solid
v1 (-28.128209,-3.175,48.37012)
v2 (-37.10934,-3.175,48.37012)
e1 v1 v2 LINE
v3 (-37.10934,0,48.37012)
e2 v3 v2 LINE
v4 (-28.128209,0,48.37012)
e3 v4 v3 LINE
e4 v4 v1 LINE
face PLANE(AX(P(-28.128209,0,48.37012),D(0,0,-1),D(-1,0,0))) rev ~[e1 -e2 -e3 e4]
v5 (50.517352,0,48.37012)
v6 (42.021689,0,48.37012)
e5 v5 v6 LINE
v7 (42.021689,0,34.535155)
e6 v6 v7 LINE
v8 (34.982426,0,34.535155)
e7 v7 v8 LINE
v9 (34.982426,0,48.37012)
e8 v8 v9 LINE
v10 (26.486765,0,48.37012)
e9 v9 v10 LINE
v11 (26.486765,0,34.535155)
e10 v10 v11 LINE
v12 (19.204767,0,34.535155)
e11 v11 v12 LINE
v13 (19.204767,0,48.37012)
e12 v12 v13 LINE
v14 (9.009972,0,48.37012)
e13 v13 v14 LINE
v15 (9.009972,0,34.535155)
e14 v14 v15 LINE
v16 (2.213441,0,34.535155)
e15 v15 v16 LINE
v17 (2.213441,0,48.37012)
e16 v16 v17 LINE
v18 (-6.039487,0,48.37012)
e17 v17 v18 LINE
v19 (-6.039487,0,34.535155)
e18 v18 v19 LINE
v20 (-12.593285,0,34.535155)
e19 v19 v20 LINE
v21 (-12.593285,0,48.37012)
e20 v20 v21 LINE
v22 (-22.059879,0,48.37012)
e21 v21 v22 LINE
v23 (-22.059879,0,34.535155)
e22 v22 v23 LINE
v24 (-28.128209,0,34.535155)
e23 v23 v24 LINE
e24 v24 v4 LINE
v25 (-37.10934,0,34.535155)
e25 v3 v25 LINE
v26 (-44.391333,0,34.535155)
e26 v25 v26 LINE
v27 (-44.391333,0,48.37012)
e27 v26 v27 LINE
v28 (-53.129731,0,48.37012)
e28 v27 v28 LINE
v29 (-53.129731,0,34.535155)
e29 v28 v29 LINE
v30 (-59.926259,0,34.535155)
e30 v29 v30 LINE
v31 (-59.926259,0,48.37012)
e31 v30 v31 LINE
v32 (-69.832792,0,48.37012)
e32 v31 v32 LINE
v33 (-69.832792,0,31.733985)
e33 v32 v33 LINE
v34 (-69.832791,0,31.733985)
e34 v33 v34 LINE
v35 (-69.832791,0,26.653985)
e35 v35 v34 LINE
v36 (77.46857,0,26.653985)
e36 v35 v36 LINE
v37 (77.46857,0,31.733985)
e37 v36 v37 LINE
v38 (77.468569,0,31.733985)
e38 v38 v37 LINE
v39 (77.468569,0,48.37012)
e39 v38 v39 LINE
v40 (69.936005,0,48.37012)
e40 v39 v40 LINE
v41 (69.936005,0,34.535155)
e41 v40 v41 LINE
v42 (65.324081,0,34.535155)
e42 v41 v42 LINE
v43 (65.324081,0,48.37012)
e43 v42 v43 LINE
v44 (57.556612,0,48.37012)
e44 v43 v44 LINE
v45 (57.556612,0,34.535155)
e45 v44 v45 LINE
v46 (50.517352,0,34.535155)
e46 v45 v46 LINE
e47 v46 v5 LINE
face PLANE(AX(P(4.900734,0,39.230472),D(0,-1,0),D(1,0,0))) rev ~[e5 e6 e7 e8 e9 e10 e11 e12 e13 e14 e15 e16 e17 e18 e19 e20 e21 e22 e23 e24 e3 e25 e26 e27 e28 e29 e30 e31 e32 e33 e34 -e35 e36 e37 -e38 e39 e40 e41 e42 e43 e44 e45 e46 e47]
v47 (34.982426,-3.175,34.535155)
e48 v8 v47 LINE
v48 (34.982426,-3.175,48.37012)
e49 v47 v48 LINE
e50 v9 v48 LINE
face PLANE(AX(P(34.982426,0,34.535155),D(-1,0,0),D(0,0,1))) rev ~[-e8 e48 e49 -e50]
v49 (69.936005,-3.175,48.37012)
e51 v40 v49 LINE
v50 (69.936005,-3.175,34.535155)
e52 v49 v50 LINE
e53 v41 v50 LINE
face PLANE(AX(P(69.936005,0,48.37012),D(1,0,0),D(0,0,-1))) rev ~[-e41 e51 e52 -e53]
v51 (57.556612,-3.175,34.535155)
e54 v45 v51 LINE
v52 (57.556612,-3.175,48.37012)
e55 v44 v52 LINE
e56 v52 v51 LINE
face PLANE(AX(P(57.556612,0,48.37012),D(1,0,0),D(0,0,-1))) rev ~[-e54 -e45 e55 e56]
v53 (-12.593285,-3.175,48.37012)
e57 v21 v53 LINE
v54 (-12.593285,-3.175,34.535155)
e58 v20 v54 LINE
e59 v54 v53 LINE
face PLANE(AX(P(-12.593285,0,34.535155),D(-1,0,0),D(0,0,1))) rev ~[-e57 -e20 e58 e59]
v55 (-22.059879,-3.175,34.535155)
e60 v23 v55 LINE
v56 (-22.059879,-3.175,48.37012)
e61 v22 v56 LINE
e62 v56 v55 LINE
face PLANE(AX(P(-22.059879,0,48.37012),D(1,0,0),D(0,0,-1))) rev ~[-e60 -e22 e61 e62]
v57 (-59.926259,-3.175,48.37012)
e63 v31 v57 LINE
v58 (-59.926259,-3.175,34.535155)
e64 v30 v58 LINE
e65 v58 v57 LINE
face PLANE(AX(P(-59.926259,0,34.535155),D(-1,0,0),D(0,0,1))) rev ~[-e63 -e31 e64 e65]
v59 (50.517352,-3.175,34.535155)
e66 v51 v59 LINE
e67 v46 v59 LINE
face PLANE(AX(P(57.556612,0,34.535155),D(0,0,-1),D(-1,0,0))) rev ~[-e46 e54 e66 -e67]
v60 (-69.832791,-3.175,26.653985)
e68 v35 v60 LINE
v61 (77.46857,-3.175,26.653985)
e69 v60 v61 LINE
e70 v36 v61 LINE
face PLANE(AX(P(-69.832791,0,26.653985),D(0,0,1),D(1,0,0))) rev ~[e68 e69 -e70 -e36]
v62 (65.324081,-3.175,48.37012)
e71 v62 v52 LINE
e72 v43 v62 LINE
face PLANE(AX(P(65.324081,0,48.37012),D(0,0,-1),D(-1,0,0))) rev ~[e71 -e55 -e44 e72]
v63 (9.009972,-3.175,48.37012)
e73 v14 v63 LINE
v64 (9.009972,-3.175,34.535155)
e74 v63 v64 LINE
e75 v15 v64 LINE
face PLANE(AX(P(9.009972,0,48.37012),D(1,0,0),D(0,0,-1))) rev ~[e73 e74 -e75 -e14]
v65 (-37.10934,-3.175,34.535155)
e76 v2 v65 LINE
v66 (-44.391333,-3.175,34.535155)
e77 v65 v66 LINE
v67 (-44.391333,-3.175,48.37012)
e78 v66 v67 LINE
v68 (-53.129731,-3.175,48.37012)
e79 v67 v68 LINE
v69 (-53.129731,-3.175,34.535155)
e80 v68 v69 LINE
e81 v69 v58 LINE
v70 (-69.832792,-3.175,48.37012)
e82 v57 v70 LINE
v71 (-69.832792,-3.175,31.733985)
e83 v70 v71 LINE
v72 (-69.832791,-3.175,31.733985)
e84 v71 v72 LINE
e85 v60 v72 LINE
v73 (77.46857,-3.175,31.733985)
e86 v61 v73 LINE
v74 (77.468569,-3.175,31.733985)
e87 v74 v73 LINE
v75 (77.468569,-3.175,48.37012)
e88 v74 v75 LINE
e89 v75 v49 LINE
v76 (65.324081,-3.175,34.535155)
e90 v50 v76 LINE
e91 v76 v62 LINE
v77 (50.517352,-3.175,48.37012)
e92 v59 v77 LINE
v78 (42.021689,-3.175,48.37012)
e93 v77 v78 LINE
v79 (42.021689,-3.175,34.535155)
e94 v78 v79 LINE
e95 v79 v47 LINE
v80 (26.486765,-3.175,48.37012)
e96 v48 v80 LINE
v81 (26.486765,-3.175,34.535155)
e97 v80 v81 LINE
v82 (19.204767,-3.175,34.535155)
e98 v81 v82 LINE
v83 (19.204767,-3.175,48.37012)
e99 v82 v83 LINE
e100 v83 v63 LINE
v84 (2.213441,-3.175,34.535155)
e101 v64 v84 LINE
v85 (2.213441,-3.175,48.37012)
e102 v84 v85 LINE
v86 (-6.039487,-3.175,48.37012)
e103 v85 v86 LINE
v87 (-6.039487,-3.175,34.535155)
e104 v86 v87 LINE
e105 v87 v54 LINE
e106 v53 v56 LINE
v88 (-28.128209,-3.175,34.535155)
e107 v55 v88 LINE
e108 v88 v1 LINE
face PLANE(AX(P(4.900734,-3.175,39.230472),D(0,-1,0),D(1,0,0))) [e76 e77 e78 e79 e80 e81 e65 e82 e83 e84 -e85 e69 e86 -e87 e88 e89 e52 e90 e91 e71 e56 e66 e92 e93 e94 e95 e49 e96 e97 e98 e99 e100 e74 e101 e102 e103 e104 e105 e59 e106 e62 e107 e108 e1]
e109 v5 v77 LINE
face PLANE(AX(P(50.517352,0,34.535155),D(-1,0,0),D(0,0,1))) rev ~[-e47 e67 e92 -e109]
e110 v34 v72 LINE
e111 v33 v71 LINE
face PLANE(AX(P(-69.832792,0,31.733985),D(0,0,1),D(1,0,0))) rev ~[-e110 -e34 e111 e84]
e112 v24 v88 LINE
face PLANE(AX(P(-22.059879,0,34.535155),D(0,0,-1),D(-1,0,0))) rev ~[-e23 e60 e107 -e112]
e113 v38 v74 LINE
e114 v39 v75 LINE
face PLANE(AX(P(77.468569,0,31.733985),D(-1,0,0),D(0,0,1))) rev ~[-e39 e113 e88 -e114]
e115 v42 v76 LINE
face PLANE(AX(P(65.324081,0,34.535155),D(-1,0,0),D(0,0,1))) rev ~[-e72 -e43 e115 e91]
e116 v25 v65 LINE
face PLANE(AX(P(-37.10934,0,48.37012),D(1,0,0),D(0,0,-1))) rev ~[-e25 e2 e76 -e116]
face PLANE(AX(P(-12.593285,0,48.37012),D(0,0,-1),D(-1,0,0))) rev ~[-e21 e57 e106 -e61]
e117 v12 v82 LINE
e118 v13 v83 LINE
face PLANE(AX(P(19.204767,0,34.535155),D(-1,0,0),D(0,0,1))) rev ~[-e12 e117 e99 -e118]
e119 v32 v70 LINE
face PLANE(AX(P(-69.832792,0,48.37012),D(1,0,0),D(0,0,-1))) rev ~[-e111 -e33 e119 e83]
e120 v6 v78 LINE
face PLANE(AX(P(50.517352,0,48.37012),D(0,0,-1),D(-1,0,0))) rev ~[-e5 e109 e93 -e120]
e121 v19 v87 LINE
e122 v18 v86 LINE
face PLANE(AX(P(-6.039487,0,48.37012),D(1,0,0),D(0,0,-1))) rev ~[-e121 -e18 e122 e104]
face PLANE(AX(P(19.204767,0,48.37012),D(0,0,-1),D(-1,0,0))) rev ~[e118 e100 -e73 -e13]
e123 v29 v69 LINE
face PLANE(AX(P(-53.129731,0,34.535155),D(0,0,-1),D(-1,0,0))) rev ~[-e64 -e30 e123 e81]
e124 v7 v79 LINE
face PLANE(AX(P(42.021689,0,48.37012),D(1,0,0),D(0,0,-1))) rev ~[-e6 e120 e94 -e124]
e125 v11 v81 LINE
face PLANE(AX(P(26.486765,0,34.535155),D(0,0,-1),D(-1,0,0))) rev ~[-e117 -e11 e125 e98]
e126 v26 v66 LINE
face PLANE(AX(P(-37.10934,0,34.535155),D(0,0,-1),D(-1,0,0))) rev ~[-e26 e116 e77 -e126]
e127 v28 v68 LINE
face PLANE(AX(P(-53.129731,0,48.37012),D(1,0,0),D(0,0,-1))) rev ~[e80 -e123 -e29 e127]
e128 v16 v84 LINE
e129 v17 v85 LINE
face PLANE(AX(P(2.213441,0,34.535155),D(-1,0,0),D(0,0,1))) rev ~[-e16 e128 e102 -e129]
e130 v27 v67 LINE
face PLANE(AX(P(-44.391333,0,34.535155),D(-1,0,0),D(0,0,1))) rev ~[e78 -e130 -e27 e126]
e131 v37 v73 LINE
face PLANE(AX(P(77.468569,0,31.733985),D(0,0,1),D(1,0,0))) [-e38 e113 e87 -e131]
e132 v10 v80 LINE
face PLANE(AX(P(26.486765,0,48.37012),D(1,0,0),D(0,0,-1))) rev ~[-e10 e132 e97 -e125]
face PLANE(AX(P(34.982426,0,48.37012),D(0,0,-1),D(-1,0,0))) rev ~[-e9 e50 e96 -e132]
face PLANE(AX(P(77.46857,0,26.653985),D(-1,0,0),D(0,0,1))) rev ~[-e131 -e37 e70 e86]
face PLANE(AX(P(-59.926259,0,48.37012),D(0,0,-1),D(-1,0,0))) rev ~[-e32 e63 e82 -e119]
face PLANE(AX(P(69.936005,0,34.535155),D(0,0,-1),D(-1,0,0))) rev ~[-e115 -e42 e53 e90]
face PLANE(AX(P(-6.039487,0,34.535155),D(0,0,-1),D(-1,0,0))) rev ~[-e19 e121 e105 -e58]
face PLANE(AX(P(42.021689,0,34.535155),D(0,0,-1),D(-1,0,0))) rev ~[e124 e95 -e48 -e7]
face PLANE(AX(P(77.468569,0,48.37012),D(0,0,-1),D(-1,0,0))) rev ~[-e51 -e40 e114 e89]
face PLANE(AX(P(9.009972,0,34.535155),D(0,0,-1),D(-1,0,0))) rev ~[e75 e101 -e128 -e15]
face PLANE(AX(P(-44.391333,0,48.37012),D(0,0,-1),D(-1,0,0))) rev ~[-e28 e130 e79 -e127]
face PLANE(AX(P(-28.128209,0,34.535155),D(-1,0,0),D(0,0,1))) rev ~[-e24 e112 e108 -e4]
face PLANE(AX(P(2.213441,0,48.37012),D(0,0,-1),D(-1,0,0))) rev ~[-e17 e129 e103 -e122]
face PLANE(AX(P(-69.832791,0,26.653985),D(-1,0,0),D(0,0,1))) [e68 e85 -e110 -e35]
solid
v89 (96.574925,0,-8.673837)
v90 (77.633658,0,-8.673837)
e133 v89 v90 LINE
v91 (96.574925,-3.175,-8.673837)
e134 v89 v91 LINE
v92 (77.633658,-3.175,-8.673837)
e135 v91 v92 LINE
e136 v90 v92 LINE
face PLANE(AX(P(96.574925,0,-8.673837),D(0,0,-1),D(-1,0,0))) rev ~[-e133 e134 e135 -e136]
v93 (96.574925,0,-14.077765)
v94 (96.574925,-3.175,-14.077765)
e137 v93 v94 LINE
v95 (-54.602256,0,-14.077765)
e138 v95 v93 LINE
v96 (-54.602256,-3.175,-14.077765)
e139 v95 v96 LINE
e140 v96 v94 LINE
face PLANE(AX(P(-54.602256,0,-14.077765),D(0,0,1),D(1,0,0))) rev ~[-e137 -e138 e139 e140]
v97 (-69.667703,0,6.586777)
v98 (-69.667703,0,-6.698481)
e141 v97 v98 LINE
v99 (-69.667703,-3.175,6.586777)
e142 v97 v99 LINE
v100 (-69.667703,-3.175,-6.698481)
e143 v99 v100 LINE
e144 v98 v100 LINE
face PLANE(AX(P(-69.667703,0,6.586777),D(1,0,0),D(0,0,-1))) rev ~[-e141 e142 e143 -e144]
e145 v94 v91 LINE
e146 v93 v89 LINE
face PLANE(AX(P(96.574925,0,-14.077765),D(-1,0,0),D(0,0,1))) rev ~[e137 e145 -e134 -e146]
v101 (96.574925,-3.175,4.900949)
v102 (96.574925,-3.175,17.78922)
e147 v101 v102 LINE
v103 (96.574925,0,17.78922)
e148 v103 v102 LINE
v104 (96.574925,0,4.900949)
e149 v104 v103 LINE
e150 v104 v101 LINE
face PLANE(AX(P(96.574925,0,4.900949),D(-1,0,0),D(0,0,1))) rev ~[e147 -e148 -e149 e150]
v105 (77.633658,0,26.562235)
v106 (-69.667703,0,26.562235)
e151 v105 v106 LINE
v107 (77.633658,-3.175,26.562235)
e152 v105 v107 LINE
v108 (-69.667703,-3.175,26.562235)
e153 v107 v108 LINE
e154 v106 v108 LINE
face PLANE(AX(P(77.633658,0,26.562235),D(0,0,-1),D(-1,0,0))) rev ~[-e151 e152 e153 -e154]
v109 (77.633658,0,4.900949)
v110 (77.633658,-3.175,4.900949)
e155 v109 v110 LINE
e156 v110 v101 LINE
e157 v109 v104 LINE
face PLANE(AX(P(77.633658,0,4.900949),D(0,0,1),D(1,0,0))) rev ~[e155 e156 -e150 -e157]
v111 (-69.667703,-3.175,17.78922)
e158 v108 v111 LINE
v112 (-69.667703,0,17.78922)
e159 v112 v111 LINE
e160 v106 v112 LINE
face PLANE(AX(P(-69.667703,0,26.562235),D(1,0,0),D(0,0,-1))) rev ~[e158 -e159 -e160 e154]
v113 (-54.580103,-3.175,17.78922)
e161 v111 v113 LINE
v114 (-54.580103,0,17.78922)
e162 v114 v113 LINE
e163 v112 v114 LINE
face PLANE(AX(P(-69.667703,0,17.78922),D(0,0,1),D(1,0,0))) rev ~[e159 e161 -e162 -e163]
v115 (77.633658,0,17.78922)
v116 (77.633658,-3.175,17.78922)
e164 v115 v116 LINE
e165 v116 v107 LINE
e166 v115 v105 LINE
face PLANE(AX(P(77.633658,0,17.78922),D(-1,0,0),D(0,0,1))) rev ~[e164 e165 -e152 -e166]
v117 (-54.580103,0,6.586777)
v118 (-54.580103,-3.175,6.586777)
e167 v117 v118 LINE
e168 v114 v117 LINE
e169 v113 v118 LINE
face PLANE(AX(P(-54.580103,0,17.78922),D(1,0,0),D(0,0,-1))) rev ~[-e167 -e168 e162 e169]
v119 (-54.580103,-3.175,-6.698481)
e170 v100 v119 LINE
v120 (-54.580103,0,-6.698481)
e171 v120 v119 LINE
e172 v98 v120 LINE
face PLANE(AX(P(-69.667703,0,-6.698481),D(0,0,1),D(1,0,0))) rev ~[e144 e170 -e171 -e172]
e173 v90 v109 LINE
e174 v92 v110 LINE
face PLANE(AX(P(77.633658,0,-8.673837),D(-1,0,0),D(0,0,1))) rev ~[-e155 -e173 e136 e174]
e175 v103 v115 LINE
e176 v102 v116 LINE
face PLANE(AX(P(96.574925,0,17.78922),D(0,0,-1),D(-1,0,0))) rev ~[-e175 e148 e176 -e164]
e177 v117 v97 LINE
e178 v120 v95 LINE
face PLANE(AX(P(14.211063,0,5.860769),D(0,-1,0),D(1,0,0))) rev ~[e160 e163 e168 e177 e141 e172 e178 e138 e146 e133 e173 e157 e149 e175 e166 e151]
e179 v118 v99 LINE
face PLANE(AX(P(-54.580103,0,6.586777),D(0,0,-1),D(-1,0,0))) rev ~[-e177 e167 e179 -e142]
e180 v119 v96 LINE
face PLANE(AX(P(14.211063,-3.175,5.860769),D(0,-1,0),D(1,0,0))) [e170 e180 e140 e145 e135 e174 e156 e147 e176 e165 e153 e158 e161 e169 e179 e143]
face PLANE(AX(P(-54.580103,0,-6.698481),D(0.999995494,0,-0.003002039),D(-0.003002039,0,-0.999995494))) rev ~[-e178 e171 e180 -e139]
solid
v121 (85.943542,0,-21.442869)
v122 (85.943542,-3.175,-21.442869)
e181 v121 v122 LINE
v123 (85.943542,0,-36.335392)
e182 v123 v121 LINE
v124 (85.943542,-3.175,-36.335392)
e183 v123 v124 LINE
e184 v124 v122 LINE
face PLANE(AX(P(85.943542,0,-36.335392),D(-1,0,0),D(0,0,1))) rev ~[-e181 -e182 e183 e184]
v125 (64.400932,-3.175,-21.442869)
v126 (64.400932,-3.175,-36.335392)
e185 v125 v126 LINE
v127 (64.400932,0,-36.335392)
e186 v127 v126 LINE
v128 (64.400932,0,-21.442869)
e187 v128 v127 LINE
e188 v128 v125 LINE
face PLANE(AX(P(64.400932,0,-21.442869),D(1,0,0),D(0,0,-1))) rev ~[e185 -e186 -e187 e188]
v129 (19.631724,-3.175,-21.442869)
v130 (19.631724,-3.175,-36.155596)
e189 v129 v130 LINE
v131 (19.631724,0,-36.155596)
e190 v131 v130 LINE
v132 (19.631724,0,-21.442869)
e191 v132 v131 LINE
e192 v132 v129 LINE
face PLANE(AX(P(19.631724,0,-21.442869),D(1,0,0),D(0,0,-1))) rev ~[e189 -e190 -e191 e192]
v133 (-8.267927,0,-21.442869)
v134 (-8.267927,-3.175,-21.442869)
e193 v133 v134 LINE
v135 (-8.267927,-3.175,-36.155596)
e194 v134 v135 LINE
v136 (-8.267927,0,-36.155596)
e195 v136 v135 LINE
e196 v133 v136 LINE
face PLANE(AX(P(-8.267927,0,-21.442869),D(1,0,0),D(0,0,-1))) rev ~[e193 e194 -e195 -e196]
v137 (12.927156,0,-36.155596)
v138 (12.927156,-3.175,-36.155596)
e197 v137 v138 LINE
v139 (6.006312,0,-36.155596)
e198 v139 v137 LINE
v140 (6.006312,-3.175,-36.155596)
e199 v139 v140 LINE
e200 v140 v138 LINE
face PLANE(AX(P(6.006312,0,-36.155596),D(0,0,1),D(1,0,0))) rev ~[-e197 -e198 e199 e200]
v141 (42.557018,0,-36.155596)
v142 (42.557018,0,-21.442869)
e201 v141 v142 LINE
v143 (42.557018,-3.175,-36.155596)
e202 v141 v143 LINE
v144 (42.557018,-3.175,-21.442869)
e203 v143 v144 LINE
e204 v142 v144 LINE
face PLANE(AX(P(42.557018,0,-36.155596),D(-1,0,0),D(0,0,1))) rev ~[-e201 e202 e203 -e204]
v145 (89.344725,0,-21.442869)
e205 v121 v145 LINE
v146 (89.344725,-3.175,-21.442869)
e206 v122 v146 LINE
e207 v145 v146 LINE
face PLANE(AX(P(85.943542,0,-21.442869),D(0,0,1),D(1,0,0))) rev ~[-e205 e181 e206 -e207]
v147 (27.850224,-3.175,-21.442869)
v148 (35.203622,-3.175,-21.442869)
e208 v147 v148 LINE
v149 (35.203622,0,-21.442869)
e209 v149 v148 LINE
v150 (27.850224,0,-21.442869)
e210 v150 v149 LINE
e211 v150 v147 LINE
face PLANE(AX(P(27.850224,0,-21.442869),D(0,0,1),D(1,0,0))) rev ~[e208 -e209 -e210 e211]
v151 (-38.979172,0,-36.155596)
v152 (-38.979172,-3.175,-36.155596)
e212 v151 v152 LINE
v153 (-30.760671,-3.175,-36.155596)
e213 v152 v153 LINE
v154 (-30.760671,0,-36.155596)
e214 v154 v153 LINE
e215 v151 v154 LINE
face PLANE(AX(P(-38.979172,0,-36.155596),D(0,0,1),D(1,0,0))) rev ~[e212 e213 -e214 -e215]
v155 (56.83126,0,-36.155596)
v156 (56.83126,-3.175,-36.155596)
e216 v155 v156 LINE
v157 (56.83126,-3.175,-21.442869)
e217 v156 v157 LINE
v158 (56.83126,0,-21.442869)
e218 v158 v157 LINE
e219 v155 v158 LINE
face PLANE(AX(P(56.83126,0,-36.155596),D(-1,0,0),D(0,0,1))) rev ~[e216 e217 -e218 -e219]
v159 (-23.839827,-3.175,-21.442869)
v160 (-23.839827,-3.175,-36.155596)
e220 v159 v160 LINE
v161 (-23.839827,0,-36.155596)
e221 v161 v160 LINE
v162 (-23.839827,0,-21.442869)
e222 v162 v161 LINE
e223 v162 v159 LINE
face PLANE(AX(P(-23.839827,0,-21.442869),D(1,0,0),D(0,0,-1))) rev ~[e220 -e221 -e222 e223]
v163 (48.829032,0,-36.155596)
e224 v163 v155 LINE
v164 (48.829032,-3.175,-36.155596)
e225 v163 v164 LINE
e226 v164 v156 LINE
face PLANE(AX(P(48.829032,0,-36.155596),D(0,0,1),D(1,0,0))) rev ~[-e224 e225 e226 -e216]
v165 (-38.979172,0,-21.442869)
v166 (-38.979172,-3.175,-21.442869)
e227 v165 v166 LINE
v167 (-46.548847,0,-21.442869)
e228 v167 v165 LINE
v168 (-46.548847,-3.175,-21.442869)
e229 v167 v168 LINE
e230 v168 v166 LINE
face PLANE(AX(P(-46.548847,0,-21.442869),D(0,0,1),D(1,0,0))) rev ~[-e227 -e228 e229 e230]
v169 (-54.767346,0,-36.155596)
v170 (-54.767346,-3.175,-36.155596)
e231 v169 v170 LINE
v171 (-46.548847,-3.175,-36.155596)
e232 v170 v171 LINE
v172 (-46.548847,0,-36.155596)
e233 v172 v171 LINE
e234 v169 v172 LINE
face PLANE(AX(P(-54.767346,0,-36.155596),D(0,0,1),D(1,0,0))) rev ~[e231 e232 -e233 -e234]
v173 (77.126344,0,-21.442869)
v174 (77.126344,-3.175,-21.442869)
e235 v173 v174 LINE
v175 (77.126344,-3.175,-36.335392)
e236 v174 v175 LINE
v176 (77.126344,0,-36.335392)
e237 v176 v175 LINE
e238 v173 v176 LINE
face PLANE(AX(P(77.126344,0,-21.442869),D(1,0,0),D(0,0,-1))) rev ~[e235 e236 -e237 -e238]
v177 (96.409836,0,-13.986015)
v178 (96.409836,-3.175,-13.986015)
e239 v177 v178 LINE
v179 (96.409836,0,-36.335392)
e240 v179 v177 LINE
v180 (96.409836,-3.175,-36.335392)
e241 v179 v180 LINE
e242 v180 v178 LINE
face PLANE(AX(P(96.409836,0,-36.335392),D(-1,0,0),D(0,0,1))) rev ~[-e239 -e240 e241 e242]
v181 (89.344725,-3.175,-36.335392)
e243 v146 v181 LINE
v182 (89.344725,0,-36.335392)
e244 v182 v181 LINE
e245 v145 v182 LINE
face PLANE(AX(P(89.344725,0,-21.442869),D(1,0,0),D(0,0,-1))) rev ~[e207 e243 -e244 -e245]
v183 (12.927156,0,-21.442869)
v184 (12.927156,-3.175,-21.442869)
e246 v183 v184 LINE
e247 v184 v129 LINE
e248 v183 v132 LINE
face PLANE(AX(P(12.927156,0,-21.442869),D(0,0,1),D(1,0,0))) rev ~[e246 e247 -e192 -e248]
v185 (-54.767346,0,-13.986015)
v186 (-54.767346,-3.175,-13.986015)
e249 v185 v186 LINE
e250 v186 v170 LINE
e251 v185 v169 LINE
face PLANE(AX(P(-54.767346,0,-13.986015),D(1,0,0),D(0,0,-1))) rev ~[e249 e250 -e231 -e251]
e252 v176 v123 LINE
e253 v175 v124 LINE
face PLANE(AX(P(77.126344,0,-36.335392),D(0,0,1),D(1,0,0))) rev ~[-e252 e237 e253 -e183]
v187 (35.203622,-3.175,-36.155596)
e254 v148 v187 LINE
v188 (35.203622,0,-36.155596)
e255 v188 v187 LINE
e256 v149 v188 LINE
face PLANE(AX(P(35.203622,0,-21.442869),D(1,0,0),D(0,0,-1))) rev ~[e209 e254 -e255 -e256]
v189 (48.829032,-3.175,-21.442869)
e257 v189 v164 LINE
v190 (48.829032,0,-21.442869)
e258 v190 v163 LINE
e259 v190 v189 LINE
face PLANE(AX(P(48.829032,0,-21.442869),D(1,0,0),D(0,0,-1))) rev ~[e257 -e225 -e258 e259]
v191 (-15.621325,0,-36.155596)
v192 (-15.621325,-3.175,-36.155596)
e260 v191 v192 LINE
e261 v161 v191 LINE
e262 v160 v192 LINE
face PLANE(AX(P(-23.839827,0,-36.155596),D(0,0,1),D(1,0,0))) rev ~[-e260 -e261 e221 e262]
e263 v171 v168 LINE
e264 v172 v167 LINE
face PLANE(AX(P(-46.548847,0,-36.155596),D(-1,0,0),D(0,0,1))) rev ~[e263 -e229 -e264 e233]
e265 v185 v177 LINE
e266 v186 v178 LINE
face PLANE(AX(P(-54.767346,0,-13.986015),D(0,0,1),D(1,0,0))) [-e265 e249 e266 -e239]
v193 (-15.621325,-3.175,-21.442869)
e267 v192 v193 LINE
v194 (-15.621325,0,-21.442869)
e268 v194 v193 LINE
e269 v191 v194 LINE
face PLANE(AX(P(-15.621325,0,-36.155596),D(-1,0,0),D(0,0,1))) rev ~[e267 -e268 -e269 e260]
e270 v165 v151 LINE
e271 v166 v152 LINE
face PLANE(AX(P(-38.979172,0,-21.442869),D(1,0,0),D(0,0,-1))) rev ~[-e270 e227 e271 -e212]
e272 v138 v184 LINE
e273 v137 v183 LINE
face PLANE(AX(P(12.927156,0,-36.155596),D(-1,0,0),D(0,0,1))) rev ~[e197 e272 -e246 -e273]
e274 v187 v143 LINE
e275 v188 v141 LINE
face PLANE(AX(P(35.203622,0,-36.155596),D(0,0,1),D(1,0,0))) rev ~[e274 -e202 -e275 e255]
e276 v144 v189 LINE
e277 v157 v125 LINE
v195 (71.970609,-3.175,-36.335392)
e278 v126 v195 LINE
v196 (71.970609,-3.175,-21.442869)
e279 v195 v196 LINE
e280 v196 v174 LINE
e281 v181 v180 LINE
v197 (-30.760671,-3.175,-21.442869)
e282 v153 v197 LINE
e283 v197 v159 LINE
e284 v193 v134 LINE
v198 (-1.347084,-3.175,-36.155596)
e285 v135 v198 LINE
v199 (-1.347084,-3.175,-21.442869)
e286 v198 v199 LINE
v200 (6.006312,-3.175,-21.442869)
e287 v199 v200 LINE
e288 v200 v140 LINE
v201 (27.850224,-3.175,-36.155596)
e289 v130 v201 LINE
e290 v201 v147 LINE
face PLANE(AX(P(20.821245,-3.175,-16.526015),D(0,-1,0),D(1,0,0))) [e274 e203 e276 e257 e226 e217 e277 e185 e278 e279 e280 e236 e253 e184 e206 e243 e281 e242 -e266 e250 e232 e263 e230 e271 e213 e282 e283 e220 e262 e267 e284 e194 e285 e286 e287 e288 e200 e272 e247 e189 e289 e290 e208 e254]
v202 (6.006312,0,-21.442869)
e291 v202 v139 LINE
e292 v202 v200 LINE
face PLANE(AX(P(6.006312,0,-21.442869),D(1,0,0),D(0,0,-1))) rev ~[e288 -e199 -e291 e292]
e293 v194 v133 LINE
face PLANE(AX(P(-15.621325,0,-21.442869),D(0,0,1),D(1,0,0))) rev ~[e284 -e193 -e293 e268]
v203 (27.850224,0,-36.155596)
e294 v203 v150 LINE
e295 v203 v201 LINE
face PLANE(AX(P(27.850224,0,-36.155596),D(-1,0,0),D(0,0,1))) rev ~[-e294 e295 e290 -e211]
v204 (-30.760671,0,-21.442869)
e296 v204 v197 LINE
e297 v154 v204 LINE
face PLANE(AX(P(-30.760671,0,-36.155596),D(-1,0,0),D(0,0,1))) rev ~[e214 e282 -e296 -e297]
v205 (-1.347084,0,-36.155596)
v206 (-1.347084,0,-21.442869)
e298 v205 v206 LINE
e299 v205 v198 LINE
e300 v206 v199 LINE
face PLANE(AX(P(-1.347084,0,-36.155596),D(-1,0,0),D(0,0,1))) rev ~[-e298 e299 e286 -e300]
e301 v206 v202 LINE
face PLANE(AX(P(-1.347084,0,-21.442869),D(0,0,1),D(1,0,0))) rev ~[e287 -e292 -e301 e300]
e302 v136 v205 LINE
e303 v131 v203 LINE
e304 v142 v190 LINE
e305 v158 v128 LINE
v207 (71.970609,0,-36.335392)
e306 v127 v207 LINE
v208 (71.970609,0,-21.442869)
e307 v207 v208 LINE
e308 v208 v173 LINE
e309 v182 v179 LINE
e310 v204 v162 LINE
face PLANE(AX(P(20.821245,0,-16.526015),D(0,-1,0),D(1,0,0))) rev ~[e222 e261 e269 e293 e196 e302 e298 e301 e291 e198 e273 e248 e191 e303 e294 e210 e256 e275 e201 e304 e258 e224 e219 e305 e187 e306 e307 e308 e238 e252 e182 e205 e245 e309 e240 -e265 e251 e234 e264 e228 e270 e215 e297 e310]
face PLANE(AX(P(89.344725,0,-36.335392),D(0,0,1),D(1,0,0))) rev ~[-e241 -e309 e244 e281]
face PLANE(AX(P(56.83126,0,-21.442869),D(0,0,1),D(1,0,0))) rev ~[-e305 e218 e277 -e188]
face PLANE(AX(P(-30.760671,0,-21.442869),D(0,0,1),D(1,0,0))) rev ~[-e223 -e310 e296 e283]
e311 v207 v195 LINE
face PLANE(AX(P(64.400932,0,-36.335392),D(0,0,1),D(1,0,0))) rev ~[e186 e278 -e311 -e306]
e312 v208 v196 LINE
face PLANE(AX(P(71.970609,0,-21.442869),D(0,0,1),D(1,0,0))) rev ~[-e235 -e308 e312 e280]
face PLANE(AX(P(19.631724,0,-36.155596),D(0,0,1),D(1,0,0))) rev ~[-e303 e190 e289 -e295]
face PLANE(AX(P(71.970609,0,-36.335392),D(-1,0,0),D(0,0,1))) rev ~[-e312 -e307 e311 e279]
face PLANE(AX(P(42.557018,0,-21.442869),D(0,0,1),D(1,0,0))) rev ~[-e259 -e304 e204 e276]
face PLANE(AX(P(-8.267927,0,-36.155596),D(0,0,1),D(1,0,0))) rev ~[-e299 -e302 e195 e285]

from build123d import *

# Parameters (mm, degrees)
F0_W     = 147.301361
F0_H     = 5.08
F0_W_2   = 151.177182
F1_DEPTH = 3.175
F3_DEPTH = 3.175


with BuildPart() as f1:
    # F0 (on Front) → F1 (new body)
    with BuildSketch(Plane.XZ):
        Polygon((-69.832792, 48.37012), (-69.832792, 31.733985), (77.468569, 31.733985), (77.468569, 48.37012), (69.936005, 48.37012), (69.936005, 34.535155), (65.324081, 34.535155), (65.324081, 48.37012), (57.556612, 48.37012), (57.556612, 34.535155), (50.517352, 34.535155), (50.517352, 48.37012), (42.021689, 48.37012), (42.021689, 34.535155), (34.982426, 34.535155), (34.982426, 48.37012), (26.486765, 48.37012), (26.486765, 34.535155), (19.204767, 34.535155), (19.204767, 48.37012), (9.009972, 48.37012), (9.009972, 34.535155), (2.213441, 34.535155), (2.213441, 48.37012), (-6.039487, 48.37012), (-6.039487, 34.535155), (-12.593285, 34.535155), (-12.593285, 48.37012), (-22.059879, 48.37012), (-22.059879, 34.535155), (-28.128209, 34.535155), (-28.128209, 48.37012), (-37.10934, 48.37012), (-37.10934, 34.535155), (-44.391333, 34.535155), (-44.391333, 48.37012), (-53.129731, 48.37012), (-53.129731, 34.535155), (-59.926259, 34.535155), (-59.926259, 48.37012), align=None)
        with Locations((3.817889, 29.193985)):
            Rectangle(F0_W, F0_H)
        with Locations((20.821245, -16.526015)):
            Rectangle(F0_W_2, F0_H)
        Polygon((96.409836, -19.066015), (-54.767346, -19.066015), (-54.767346, -36.155596), (-46.548847, -36.155596), (-46.548847, -21.442869), (-38.979172, -21.442869), (-38.979172, -36.155596), (-30.760671, -36.155596), (-30.760671, -21.442869), (-23.839827, -21.442869), (-23.839827, -36.155596), (-15.621325, -36.155596), (-15.621325, -21.442869), (-8.267927, -21.442869), (-8.267927, -36.155596), (-1.347084, -36.155596), (-1.347084, -21.442869), (6.006312, -21.442869), (6.006312, -36.155596), (12.927156, -36.155596), (12.927156, -21.442869), (19.631724, -21.442869), (19.631724, -36.155596), (27.850224, -36.155596), (27.850224, -21.442869), (35.203622, -21.442869), (35.203622, -36.155596), (42.557018, -36.155596), (42.557018, -21.442869), (48.829032, -21.442869), (48.829032, -36.155596), (56.83126, -36.155596), (56.83126, -21.442869), (64.400932, -21.442869), (64.400932, -36.335392), (71.970609, -36.335392), (71.970609, -21.442869), (77.126344, -21.442869), (77.126344, -36.335392), (85.943542, -36.335392), (85.943542, -21.442869), (89.344725, -21.442869), (89.344725, -36.335392), (96.409836, -36.335392), align=None)
    extrude(amount=F1_DEPTH)


with BuildPart() as f3:
    # F2 (on Front) → F3 (new body)
    with BuildSketch(Plane.XZ):
        Polygon((77.633658, 26.562235), (-69.667703, 26.562235), (-69.667703, 17.78922), (-54.580103, 17.78922), (-54.580103, 6.586777), (-69.667703, 6.586777), (-69.667703, -6.698481), (-54.580103, -6.698481), (-54.602256, -14.077765), (96.574925, -14.077765), (96.574925, -8.673837), (77.633658, -8.673837), (77.633658, 4.900949), (96.574925, 4.900949), (96.574925, 17.78922), (77.633658, 17.78922), align=None)
    extrude(amount=F3_DEPTH)


solid = Compound([f1.part, f3.part])
